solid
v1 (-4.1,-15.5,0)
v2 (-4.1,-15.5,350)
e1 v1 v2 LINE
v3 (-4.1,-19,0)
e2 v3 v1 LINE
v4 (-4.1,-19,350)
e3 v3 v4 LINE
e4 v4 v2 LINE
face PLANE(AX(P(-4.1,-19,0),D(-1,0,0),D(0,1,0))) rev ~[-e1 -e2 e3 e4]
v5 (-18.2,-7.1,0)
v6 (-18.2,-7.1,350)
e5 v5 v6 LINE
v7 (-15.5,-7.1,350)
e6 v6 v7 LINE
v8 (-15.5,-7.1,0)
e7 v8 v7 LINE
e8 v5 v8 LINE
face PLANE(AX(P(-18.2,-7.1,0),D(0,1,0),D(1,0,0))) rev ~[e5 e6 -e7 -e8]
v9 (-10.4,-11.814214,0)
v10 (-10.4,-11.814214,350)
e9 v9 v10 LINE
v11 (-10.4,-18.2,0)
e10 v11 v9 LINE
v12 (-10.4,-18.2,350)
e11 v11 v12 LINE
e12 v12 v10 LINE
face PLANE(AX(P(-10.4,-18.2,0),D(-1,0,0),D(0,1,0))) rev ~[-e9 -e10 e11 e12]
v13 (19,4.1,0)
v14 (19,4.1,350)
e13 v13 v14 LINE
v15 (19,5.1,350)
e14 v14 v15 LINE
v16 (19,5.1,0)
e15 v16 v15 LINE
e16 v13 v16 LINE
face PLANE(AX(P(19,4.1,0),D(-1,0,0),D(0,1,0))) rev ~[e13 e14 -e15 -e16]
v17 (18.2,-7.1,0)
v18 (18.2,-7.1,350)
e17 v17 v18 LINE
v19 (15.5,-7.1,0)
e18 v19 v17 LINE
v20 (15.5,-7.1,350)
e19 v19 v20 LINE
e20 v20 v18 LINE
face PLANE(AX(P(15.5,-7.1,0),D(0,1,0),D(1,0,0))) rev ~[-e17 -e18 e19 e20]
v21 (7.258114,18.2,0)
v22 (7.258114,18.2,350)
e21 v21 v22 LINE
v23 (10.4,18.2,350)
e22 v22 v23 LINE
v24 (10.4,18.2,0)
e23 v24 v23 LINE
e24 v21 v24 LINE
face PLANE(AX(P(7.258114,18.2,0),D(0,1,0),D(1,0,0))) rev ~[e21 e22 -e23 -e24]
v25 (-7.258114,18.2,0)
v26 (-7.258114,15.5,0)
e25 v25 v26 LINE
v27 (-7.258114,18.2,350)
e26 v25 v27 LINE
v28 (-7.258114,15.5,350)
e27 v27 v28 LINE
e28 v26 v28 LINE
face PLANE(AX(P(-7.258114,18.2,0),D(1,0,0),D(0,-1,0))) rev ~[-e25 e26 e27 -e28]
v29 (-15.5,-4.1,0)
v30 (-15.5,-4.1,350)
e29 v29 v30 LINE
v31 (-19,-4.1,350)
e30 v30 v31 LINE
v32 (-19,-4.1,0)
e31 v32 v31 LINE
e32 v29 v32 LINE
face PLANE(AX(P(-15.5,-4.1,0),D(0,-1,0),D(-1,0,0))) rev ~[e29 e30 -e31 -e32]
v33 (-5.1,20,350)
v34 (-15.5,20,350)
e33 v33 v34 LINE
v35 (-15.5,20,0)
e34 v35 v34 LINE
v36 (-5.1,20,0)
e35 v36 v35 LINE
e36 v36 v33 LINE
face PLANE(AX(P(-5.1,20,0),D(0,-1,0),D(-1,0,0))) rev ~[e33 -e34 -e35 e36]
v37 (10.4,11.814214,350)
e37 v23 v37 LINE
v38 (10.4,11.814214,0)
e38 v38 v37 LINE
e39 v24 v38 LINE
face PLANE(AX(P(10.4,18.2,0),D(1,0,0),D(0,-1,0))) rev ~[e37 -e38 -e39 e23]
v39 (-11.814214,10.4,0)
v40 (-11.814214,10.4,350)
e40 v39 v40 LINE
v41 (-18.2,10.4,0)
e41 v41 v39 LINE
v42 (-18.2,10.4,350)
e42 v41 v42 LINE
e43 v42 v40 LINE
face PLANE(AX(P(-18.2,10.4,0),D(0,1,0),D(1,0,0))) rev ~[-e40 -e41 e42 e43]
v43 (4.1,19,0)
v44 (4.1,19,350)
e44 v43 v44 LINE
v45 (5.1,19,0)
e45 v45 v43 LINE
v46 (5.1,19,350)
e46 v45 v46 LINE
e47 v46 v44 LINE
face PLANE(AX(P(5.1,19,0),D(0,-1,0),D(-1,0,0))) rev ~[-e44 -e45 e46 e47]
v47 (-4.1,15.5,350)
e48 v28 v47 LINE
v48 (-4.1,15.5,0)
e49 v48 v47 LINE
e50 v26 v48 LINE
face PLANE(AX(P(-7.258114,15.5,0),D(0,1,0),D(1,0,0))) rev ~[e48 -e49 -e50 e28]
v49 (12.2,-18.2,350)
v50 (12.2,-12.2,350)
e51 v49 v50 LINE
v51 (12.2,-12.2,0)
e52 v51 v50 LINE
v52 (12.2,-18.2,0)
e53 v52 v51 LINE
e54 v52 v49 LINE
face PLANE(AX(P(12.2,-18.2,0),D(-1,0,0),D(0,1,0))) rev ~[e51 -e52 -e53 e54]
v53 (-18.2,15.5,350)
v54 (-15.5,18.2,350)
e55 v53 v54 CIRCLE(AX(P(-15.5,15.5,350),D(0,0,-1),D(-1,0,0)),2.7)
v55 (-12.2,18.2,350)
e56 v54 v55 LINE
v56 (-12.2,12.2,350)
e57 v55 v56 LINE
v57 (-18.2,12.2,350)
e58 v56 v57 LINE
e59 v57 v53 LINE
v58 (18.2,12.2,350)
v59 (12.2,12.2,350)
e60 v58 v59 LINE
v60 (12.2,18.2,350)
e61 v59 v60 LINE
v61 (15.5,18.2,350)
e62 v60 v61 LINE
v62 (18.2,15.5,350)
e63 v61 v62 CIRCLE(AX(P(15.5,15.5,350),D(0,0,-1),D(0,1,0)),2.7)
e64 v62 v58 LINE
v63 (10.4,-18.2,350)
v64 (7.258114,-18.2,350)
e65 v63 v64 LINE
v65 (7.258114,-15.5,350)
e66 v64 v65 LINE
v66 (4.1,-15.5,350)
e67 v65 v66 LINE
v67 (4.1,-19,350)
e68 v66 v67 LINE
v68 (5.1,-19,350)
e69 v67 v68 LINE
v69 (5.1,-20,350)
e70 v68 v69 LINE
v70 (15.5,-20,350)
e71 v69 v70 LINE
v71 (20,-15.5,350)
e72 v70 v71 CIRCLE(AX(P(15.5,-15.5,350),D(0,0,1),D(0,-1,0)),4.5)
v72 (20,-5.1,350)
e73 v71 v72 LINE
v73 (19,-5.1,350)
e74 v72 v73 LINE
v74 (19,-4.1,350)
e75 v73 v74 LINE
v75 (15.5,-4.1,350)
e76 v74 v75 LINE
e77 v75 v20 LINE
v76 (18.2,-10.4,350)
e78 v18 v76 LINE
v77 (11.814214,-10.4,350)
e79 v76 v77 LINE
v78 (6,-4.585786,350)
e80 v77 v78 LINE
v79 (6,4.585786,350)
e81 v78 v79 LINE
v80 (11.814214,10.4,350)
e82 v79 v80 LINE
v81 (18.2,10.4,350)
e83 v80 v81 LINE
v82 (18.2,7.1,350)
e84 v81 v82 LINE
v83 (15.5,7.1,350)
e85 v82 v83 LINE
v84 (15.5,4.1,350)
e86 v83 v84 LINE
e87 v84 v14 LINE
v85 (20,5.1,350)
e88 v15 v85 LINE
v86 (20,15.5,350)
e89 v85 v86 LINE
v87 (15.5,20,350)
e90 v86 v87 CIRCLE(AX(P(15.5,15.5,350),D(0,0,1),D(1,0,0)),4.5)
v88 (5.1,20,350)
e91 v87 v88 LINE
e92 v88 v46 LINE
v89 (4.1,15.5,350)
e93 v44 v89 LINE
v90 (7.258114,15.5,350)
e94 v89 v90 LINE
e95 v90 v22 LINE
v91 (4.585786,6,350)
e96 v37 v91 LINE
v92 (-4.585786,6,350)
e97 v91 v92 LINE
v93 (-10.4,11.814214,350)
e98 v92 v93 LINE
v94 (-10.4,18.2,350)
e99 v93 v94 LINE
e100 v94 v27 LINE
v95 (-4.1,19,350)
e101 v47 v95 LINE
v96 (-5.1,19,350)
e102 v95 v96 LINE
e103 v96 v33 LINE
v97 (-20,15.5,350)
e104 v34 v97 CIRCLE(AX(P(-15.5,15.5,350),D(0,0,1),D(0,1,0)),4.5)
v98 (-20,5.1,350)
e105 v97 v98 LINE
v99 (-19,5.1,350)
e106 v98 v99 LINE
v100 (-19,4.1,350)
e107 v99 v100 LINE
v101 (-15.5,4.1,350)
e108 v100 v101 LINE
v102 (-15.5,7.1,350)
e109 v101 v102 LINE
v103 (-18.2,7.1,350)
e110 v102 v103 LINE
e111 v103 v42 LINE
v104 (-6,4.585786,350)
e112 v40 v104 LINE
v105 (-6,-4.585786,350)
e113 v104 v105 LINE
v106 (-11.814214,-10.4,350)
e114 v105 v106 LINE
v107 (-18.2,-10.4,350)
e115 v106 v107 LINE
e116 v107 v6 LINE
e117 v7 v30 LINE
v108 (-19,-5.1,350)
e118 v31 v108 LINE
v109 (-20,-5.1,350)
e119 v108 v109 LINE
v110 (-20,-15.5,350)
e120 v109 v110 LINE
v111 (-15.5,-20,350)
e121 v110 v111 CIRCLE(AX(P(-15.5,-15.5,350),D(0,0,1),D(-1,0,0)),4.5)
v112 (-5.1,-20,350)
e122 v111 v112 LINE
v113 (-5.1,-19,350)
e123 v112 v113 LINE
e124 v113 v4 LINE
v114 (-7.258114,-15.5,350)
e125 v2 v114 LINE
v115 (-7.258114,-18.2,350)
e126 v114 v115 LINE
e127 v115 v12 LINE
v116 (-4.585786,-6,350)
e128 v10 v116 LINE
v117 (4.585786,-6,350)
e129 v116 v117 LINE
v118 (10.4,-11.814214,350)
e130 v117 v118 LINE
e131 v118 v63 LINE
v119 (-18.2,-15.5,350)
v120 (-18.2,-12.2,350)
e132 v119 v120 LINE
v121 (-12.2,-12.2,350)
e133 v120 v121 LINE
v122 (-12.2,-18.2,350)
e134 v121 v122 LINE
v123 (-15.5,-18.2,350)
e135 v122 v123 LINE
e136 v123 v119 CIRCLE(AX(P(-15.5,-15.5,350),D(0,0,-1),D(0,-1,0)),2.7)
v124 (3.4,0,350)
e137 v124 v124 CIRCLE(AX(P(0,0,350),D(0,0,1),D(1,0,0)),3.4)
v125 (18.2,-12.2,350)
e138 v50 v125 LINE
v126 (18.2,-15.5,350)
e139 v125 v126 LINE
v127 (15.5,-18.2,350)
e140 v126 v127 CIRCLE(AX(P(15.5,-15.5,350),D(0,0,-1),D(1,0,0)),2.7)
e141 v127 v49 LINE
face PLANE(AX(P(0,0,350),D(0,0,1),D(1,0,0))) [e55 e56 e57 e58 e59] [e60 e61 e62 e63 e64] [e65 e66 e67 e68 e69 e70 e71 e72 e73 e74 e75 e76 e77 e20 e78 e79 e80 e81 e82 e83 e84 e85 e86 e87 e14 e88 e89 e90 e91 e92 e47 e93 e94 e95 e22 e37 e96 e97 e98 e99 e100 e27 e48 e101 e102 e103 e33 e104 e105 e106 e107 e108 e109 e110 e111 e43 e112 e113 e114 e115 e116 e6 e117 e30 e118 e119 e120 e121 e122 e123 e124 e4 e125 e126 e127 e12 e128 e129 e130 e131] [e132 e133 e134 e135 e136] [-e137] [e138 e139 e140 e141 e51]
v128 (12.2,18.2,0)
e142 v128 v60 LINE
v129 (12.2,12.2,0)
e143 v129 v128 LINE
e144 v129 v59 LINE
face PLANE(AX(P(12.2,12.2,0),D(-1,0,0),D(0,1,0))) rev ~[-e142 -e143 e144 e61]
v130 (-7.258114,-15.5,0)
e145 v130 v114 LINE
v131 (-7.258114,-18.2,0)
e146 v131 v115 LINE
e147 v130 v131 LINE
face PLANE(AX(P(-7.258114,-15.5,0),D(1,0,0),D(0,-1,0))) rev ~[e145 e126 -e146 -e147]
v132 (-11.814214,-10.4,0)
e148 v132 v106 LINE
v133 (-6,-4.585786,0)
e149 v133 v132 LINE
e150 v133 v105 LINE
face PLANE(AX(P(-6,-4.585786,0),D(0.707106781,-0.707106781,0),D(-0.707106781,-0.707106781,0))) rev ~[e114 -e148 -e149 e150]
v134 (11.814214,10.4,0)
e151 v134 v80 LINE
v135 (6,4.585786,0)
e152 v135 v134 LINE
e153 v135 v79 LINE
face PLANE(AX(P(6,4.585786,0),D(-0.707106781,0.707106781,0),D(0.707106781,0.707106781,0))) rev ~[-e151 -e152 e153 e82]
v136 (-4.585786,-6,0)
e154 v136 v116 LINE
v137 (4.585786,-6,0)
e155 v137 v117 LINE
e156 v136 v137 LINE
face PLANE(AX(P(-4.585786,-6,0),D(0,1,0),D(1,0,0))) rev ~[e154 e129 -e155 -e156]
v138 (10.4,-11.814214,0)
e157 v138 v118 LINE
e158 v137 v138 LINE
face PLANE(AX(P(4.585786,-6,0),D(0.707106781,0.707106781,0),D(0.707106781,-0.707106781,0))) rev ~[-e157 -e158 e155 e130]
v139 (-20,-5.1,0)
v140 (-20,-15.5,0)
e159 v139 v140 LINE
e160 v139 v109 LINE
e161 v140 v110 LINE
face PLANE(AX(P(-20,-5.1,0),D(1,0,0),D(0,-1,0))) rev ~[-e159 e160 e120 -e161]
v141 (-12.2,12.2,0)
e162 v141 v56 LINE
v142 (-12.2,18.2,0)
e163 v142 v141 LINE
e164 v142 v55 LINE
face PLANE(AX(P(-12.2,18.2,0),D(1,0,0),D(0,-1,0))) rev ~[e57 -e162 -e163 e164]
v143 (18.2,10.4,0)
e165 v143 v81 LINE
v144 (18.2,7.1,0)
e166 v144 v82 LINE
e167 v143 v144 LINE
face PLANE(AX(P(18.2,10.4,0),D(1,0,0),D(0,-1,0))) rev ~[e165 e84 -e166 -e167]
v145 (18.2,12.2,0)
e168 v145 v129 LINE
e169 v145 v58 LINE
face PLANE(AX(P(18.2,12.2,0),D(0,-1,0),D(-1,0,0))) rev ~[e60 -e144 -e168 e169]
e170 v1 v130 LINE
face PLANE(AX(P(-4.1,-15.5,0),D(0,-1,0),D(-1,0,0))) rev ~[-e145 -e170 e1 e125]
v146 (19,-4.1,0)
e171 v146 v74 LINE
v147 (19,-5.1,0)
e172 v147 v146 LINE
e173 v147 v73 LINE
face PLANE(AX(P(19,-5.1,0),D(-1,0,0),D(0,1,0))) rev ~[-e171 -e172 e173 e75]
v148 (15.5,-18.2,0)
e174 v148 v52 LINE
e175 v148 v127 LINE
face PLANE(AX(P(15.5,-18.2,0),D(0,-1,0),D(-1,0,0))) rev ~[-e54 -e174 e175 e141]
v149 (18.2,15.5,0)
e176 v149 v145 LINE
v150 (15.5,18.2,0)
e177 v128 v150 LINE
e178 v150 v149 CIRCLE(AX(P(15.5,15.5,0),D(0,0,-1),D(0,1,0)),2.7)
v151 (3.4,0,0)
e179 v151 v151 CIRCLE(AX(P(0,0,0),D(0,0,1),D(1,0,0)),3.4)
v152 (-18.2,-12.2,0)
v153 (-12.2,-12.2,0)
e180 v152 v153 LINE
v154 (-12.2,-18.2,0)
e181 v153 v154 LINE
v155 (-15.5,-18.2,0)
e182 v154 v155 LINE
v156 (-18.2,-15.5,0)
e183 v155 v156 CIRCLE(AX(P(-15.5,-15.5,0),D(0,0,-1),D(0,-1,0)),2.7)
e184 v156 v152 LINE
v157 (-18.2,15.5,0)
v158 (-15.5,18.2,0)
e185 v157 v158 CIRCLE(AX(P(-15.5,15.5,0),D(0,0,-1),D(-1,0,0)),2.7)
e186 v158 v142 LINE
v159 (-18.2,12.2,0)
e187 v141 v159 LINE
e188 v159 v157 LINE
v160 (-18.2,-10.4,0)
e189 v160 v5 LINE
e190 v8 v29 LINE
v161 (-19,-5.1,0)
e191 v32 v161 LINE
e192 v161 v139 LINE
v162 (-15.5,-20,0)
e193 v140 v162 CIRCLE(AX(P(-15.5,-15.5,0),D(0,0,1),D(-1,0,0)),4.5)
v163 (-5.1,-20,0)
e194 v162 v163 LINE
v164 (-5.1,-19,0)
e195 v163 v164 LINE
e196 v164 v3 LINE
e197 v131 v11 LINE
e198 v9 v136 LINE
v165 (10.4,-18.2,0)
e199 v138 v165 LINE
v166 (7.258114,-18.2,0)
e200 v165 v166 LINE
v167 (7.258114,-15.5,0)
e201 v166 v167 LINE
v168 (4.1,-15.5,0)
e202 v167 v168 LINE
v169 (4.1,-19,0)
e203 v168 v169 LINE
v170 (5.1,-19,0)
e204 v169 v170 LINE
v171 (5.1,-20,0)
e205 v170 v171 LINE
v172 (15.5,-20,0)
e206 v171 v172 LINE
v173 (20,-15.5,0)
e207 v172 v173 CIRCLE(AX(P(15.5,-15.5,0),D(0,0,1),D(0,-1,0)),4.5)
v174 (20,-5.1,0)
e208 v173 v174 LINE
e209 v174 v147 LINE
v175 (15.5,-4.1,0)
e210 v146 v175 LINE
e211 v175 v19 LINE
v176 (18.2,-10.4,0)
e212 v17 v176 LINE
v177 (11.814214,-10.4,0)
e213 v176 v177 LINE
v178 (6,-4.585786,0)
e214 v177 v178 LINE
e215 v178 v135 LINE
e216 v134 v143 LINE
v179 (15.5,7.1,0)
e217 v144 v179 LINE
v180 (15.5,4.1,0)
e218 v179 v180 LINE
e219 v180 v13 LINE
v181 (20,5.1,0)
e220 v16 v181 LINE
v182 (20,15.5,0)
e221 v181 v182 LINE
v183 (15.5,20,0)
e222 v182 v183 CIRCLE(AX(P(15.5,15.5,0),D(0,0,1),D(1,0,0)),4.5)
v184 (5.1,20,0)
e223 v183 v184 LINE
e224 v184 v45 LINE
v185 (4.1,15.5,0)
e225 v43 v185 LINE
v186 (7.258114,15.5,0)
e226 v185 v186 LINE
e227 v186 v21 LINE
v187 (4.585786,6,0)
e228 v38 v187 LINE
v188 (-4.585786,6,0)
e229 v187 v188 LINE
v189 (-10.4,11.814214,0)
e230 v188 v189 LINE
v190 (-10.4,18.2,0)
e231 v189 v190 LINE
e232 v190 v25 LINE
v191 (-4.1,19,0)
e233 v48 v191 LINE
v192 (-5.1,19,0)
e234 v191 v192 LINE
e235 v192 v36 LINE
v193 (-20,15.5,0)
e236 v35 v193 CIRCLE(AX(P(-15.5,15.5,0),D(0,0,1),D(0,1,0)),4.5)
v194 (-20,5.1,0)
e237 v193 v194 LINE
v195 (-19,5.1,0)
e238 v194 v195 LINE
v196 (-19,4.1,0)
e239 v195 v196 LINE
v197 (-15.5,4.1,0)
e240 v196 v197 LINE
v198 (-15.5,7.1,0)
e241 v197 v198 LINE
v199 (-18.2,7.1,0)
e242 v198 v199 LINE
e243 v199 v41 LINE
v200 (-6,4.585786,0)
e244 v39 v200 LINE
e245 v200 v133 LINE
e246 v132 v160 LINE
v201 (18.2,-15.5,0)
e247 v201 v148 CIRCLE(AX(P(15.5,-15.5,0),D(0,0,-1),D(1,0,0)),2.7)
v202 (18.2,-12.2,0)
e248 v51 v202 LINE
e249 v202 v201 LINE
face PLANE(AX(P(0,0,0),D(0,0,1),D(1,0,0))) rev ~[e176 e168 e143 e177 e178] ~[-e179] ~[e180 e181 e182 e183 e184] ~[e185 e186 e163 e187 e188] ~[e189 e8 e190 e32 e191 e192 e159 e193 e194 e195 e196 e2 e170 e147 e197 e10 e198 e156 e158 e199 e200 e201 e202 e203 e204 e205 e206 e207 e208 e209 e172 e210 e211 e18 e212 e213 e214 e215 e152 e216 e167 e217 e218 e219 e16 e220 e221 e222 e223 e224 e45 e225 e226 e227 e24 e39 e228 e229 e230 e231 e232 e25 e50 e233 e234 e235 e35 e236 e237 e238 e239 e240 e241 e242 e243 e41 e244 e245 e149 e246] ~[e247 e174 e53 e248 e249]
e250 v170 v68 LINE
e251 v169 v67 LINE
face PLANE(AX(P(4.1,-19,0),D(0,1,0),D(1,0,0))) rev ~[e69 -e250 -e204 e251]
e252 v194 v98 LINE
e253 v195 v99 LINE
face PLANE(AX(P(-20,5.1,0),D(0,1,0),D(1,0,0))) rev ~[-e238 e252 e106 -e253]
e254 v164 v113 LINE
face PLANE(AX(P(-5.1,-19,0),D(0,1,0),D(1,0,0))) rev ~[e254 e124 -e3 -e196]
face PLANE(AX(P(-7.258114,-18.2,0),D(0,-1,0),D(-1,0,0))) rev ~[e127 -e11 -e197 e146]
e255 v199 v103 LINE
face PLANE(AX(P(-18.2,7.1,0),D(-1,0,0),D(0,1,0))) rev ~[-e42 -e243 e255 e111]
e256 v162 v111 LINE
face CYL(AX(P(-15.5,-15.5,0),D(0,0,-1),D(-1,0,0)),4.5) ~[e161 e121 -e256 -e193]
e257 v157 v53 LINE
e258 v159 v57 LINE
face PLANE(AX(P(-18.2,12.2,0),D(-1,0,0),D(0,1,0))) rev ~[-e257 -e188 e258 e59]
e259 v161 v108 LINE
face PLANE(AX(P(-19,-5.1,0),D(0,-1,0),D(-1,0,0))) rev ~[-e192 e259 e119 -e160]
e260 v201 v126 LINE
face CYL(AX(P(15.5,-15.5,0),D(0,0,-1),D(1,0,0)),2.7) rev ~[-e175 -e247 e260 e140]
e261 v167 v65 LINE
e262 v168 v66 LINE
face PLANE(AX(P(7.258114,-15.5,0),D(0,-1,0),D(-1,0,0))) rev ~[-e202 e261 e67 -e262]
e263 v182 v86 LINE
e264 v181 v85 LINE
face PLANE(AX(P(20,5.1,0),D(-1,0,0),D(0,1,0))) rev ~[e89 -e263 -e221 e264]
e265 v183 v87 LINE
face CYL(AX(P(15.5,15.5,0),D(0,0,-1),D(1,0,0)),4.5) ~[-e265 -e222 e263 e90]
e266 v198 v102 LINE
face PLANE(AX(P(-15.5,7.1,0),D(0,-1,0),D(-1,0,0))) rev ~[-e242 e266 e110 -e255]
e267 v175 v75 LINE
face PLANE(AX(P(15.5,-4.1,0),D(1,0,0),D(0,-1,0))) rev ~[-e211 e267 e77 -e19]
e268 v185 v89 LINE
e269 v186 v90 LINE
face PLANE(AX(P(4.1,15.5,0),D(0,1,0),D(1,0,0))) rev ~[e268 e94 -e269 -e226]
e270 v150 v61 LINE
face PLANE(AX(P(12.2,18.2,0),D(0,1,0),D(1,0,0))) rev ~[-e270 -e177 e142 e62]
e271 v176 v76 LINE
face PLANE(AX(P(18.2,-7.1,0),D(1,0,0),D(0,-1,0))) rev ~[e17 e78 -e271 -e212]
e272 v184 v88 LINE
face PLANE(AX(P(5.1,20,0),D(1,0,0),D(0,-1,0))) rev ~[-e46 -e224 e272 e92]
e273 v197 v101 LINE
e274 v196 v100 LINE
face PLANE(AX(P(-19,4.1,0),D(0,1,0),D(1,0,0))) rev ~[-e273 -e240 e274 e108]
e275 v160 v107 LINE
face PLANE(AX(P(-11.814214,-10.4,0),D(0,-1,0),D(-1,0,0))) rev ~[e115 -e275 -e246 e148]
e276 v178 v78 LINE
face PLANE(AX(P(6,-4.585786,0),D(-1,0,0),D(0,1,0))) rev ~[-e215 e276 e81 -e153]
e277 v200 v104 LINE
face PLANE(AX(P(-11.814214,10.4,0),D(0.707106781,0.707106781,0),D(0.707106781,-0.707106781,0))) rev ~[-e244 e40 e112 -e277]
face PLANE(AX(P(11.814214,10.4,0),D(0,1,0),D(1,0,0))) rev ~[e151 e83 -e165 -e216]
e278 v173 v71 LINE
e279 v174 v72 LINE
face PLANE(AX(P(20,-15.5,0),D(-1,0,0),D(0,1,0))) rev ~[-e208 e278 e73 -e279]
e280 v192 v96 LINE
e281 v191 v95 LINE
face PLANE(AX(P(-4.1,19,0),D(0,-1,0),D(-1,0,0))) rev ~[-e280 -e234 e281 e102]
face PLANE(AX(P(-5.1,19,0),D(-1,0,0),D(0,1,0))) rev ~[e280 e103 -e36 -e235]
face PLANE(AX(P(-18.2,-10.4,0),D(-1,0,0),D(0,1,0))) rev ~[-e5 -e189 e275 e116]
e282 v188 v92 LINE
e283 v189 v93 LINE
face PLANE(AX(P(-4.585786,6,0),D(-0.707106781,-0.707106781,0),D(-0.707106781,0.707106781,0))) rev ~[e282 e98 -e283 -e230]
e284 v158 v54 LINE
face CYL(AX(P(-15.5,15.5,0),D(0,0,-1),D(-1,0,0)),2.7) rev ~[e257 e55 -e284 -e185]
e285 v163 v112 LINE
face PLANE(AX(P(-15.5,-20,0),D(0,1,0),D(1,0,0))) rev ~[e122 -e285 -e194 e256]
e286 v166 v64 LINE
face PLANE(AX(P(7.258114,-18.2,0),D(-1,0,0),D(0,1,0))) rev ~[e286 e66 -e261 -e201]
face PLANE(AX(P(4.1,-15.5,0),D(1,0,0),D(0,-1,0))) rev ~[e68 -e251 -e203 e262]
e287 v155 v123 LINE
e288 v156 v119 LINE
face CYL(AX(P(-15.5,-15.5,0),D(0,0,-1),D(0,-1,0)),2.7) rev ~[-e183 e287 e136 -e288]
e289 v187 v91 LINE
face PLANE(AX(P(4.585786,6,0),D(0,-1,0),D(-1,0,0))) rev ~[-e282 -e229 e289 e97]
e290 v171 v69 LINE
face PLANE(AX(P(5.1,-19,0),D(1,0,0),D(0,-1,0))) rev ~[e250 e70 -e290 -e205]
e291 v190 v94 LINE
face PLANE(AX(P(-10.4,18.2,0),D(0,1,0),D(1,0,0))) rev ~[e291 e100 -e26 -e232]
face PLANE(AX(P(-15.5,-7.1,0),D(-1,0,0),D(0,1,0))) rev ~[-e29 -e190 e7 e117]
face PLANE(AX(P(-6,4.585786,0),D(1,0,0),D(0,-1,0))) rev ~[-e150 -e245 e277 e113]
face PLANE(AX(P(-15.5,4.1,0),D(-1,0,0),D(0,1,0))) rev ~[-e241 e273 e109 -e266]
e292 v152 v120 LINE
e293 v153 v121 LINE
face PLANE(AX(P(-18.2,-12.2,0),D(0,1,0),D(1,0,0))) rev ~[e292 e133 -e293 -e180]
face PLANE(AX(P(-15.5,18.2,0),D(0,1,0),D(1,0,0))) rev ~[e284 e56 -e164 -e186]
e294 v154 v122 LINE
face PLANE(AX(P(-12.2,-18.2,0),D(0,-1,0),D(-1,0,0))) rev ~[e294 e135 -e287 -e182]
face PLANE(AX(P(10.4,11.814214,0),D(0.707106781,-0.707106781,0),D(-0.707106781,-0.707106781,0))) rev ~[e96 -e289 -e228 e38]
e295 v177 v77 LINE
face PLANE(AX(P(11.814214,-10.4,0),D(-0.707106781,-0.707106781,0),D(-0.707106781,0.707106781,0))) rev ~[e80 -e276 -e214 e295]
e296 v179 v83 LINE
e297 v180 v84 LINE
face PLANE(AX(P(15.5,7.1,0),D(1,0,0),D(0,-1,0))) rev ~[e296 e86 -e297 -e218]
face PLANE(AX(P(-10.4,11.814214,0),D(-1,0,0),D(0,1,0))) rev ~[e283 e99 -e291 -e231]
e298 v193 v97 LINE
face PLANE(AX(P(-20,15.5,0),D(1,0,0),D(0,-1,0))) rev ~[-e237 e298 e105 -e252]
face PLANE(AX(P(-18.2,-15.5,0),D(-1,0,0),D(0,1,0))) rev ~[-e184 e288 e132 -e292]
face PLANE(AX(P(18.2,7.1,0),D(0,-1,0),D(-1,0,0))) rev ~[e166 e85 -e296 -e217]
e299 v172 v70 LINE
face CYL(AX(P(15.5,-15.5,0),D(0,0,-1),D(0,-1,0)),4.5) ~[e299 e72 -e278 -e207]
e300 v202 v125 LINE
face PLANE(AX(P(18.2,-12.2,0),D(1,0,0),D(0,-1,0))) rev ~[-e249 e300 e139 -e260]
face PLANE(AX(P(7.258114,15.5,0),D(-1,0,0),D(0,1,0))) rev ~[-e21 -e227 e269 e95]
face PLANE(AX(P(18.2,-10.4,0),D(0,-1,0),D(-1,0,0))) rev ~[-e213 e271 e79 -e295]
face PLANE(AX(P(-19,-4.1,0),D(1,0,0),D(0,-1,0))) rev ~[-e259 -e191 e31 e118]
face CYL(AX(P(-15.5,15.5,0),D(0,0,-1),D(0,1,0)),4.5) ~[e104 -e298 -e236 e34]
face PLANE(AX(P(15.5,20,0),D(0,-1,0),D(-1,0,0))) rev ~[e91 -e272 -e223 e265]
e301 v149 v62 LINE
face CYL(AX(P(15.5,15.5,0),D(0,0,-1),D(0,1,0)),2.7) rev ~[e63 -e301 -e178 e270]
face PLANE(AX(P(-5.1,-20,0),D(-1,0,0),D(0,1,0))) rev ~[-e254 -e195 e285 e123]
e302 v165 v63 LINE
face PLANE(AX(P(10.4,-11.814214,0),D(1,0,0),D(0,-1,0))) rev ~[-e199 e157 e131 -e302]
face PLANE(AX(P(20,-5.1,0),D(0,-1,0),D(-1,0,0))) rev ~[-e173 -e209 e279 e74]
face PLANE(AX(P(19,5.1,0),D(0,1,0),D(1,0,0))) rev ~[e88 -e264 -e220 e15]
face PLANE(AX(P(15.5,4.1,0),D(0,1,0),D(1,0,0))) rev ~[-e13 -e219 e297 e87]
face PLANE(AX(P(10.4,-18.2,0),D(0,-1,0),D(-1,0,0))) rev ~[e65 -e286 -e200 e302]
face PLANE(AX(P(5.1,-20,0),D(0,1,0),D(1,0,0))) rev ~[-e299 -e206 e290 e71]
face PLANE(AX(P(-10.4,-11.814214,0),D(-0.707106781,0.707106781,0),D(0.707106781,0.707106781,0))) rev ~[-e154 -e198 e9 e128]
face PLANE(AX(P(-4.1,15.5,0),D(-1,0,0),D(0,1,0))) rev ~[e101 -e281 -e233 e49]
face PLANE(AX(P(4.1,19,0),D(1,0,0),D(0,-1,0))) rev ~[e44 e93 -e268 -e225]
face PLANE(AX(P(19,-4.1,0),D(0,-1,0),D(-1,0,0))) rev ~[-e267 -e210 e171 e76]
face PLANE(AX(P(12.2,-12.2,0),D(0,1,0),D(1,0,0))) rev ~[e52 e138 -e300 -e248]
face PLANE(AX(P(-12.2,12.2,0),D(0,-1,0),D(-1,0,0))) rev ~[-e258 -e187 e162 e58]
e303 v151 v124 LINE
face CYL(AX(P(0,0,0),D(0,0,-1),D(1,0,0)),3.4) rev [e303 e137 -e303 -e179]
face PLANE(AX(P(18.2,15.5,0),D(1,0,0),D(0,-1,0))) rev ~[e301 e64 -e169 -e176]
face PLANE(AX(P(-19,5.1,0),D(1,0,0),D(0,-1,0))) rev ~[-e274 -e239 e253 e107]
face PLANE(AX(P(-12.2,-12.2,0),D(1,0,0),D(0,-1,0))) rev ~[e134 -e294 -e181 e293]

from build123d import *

# Parameters (mm, degrees)
SKETCH3_R           = 3.4
BOSS_EXTRUDE1_DEPTH = 350


with BuildPart() as part:
    # Sketch3 → Boss-Extrude1 (new body)
    with BuildSketch(Plane.XY):
        with BuildLine():
            Line((-11.814213562, 10.4), (-6, 4.585786438))
            Line((-6, 4.585786438), (-6, -4.585786438))
            Line((-6, -4.585786438), (-11.814213562, -10.4))
            Line((-11.814213562, -10.4), (-18.2, -10.4))
            Line((-18.2, -10.4), (-18.2, -7.1))
            Line((-18.2, -7.1), (-15.5, -7.1))
            Line((-15.5, -7.1), (-15.5, -4.1))
            Line((-15.5, -4.1), (-19, -4.1))
            Line((-19, -4.1), (-19, -5.1))
            Line((-19, -5.1), (-20, -5.1))
            Line((-20, -5.1), (-20, -15.5))
            ThreePointArc((-20, -15.5), (-18.681980515, -18.681980515), (-15.5, -20))
            Line((-15.5, -20), (-5.1, -20))
            Line((-5.1, -20), (-5.1, -19))
            Line((-5.1, -19), (-4.1, -19))
            Line((-4.1, -19), (-4.1, -15.5))
            Line((-4.1, -15.5), (-7.258114106, -15.5))
            Line((-7.258114106, -15.5), (-7.258114106, -18.2))
            Line((-7.258114106, -18.2), (-10.4, -18.2))
            Line((-10.4, -18.2), (-10.4, -11.814213562))
            Line((-10.4, -11.814213562), (-4.585786438, -6))
            Line((-4.585786438, -6), (4.585786438, -6))
            Line((4.585786438, -6), (10.4, -11.814213562))
            Line((10.4, -11.814213562), (10.4, -18.2))
            Line((10.4, -18.2), (7.258114106, -18.2))
            Line((7.258114106, -18.2), (7.258114106, -15.5))
            Line((7.258114106, -15.5), (4.1, -15.5))
            Line((4.1, -15.5), (4.1, -19))
            Line((4.1, -19), (5.1, -19))
            Line((5.1, -19), (5.1, -20))
            Line((5.1, -20), (15.5, -20))
            ThreePointArc((15.5, -20), (18.681980515, -18.681980515), (20, -15.5))
            Line((20, -15.5), (20, -5.1))
            Line((20, -5.1), (19, -5.1))
            Line((19, -5.1), (19, -4.1))
            Line((19, -4.1), (15.5, -4.1))
            Line((15.5, -4.1), (15.5, -7.1))
            Line((15.5, -7.1), (18.2, -7.1))
            Line((18.2, -7.1), (18.2, -10.4))
            Line((18.2, -10.4), (11.814213562, -10.4))
            Line((11.814213562, -10.4), (6, -4.585786438))
            Line((6, -4.585786438), (6, 4.585786438))
            Line((6, 4.585786438), (11.814213562, 10.4))
            Line((11.814213562, 10.4), (18.2, 10.4))
            Line((18.2, 10.4), (18.2, 7.1))
            Line((18.2, 7.1), (15.5, 7.1))
            Line((15.5, 7.1), (15.5, 4.1))
            Line((15.5, 4.1), (19, 4.1))
            Line((19, 4.1), (19, 5.1))
            Line((19, 5.1), (20, 5.1))
            Line((20, 5.1), (20, 15.5))
            ThreePointArc((20, 15.5), (18.681980515, 18.681980515), (15.5, 20))
            Line((15.5, 20), (5.1, 20))
            Line((5.1, 20), (5.1, 19))
            Line((5.1, 19), (4.1, 19))
            Line((4.1, 19), (4.1, 15.5))
            Line((4.1, 15.5), (7.258114106, 15.5))
            Line((7.258114106, 15.5), (7.258114106, 18.2))
            Line((7.258114106, 18.2), (10.4, 18.2))
            Line((10.4, 18.2), (10.4, 11.814213562))
            Line((10.4, 11.814213562), (4.585786438, 6))
            Line((4.585786438, 6), (-4.585786438, 6))
            Line((-4.585786438, 6), (-10.4, 11.814213562))
            Line((-10.4, 11.814213562), (-10.4, 18.2))
            Line((-10.4, 18.2), (-7.258114106, 18.2))
            Line((-7.258114106, 18.2), (-7.258114106, 15.5))
            Line((-7.258114106, 15.5), (-4.1, 15.5))
            Line((-4.1, 15.5), (-4.1, 19))
            Line((-4.1, 19), (-5.1, 19))
            Line((-5.1, 19), (-5.1, 20))
            Line((-5.1, 20), (-15.5, 20))
            ThreePointArc((-15.5, 20), (-18.681980515, 18.681980515), (-20, 15.5))
            Line((-20, 15.5), (-20, 5.1))
            Line((-20, 5.1), (-19, 5.1))
            Line((-19, 5.1), (-19, 4.1))
            Line((-19, 4.1), (-15.5, 4.1))
            Line((-15.5, 4.1), (-15.5, 7.1))
            Line((-15.5, 7.1), (-18.2, 7.1))
            Line((-18.2, 7.1), (-18.2, 10.4))
            Line((-18.2, 10.4), (-11.814213562, 10.4))
        make_face()
        with BuildLine():
            Line((-18.2, -15.5), (-18.2, -12.2))
            Line((-18.2, -12.2), (-12.2, -12.2))
            Line((-12.2, -12.2), (-12.2, -18.2))
            Line((-12.2, -18.2), (-15.5, -18.2))
            ThreePointArc((-15.5, -18.2), (-17.409188309, -17.409188309), (-18.2, -15.5))
        make_face(mode=Mode.SUBTRACT)
        Circle(SKETCH3_R, mode=Mode.SUBTRACT)
        with BuildLine():
            Line((-18.2, 12.2), (-18.2, 15.5))
            ThreePointArc((-18.2, 15.5), (-17.409188309, 17.409188309), (-15.5, 18.2))
            Line((-15.5, 18.2), (-12.2, 18.2))
            Line((-12.2, 18.2), (-12.2, 12.2))
            Line((-12.2, 12.2), (-18.2, 12.2))
        make_face(mode=Mode.SUBTRACT)
        with BuildLine():
            Line((18.2, 15.5), (18.2, 12.2))
            Line((18.2, 12.2), (12.2, 12.2))
            Line((12.2, 12.2), (12.2, 18.2))
            Line((12.2, 18.2), (15.5, 18.2))
            ThreePointArc((15.5, 18.2), (17.409188309, 17.409188309), (18.2, 15.5))
        make_face(mode=Mode.SUBTRACT)
        with BuildLine():
            Line((12.2, -18.2), (12.2, -12.2))
            Line((12.2, -12.2), (18.2, -12.2))
            Line((18.2, -12.2), (18.2, -15.5))
            ThreePointArc((18.2, -15.5), (17.409188309, -17.409188309), (15.5, -18.2))
            Line((15.5, -18.2), (12.2, -18.2))
        make_face(mode=Mode.SUBTRACT)
    extrude(amount=BOSS_EXTRUDE1_DEPTH)


solid = part.part
